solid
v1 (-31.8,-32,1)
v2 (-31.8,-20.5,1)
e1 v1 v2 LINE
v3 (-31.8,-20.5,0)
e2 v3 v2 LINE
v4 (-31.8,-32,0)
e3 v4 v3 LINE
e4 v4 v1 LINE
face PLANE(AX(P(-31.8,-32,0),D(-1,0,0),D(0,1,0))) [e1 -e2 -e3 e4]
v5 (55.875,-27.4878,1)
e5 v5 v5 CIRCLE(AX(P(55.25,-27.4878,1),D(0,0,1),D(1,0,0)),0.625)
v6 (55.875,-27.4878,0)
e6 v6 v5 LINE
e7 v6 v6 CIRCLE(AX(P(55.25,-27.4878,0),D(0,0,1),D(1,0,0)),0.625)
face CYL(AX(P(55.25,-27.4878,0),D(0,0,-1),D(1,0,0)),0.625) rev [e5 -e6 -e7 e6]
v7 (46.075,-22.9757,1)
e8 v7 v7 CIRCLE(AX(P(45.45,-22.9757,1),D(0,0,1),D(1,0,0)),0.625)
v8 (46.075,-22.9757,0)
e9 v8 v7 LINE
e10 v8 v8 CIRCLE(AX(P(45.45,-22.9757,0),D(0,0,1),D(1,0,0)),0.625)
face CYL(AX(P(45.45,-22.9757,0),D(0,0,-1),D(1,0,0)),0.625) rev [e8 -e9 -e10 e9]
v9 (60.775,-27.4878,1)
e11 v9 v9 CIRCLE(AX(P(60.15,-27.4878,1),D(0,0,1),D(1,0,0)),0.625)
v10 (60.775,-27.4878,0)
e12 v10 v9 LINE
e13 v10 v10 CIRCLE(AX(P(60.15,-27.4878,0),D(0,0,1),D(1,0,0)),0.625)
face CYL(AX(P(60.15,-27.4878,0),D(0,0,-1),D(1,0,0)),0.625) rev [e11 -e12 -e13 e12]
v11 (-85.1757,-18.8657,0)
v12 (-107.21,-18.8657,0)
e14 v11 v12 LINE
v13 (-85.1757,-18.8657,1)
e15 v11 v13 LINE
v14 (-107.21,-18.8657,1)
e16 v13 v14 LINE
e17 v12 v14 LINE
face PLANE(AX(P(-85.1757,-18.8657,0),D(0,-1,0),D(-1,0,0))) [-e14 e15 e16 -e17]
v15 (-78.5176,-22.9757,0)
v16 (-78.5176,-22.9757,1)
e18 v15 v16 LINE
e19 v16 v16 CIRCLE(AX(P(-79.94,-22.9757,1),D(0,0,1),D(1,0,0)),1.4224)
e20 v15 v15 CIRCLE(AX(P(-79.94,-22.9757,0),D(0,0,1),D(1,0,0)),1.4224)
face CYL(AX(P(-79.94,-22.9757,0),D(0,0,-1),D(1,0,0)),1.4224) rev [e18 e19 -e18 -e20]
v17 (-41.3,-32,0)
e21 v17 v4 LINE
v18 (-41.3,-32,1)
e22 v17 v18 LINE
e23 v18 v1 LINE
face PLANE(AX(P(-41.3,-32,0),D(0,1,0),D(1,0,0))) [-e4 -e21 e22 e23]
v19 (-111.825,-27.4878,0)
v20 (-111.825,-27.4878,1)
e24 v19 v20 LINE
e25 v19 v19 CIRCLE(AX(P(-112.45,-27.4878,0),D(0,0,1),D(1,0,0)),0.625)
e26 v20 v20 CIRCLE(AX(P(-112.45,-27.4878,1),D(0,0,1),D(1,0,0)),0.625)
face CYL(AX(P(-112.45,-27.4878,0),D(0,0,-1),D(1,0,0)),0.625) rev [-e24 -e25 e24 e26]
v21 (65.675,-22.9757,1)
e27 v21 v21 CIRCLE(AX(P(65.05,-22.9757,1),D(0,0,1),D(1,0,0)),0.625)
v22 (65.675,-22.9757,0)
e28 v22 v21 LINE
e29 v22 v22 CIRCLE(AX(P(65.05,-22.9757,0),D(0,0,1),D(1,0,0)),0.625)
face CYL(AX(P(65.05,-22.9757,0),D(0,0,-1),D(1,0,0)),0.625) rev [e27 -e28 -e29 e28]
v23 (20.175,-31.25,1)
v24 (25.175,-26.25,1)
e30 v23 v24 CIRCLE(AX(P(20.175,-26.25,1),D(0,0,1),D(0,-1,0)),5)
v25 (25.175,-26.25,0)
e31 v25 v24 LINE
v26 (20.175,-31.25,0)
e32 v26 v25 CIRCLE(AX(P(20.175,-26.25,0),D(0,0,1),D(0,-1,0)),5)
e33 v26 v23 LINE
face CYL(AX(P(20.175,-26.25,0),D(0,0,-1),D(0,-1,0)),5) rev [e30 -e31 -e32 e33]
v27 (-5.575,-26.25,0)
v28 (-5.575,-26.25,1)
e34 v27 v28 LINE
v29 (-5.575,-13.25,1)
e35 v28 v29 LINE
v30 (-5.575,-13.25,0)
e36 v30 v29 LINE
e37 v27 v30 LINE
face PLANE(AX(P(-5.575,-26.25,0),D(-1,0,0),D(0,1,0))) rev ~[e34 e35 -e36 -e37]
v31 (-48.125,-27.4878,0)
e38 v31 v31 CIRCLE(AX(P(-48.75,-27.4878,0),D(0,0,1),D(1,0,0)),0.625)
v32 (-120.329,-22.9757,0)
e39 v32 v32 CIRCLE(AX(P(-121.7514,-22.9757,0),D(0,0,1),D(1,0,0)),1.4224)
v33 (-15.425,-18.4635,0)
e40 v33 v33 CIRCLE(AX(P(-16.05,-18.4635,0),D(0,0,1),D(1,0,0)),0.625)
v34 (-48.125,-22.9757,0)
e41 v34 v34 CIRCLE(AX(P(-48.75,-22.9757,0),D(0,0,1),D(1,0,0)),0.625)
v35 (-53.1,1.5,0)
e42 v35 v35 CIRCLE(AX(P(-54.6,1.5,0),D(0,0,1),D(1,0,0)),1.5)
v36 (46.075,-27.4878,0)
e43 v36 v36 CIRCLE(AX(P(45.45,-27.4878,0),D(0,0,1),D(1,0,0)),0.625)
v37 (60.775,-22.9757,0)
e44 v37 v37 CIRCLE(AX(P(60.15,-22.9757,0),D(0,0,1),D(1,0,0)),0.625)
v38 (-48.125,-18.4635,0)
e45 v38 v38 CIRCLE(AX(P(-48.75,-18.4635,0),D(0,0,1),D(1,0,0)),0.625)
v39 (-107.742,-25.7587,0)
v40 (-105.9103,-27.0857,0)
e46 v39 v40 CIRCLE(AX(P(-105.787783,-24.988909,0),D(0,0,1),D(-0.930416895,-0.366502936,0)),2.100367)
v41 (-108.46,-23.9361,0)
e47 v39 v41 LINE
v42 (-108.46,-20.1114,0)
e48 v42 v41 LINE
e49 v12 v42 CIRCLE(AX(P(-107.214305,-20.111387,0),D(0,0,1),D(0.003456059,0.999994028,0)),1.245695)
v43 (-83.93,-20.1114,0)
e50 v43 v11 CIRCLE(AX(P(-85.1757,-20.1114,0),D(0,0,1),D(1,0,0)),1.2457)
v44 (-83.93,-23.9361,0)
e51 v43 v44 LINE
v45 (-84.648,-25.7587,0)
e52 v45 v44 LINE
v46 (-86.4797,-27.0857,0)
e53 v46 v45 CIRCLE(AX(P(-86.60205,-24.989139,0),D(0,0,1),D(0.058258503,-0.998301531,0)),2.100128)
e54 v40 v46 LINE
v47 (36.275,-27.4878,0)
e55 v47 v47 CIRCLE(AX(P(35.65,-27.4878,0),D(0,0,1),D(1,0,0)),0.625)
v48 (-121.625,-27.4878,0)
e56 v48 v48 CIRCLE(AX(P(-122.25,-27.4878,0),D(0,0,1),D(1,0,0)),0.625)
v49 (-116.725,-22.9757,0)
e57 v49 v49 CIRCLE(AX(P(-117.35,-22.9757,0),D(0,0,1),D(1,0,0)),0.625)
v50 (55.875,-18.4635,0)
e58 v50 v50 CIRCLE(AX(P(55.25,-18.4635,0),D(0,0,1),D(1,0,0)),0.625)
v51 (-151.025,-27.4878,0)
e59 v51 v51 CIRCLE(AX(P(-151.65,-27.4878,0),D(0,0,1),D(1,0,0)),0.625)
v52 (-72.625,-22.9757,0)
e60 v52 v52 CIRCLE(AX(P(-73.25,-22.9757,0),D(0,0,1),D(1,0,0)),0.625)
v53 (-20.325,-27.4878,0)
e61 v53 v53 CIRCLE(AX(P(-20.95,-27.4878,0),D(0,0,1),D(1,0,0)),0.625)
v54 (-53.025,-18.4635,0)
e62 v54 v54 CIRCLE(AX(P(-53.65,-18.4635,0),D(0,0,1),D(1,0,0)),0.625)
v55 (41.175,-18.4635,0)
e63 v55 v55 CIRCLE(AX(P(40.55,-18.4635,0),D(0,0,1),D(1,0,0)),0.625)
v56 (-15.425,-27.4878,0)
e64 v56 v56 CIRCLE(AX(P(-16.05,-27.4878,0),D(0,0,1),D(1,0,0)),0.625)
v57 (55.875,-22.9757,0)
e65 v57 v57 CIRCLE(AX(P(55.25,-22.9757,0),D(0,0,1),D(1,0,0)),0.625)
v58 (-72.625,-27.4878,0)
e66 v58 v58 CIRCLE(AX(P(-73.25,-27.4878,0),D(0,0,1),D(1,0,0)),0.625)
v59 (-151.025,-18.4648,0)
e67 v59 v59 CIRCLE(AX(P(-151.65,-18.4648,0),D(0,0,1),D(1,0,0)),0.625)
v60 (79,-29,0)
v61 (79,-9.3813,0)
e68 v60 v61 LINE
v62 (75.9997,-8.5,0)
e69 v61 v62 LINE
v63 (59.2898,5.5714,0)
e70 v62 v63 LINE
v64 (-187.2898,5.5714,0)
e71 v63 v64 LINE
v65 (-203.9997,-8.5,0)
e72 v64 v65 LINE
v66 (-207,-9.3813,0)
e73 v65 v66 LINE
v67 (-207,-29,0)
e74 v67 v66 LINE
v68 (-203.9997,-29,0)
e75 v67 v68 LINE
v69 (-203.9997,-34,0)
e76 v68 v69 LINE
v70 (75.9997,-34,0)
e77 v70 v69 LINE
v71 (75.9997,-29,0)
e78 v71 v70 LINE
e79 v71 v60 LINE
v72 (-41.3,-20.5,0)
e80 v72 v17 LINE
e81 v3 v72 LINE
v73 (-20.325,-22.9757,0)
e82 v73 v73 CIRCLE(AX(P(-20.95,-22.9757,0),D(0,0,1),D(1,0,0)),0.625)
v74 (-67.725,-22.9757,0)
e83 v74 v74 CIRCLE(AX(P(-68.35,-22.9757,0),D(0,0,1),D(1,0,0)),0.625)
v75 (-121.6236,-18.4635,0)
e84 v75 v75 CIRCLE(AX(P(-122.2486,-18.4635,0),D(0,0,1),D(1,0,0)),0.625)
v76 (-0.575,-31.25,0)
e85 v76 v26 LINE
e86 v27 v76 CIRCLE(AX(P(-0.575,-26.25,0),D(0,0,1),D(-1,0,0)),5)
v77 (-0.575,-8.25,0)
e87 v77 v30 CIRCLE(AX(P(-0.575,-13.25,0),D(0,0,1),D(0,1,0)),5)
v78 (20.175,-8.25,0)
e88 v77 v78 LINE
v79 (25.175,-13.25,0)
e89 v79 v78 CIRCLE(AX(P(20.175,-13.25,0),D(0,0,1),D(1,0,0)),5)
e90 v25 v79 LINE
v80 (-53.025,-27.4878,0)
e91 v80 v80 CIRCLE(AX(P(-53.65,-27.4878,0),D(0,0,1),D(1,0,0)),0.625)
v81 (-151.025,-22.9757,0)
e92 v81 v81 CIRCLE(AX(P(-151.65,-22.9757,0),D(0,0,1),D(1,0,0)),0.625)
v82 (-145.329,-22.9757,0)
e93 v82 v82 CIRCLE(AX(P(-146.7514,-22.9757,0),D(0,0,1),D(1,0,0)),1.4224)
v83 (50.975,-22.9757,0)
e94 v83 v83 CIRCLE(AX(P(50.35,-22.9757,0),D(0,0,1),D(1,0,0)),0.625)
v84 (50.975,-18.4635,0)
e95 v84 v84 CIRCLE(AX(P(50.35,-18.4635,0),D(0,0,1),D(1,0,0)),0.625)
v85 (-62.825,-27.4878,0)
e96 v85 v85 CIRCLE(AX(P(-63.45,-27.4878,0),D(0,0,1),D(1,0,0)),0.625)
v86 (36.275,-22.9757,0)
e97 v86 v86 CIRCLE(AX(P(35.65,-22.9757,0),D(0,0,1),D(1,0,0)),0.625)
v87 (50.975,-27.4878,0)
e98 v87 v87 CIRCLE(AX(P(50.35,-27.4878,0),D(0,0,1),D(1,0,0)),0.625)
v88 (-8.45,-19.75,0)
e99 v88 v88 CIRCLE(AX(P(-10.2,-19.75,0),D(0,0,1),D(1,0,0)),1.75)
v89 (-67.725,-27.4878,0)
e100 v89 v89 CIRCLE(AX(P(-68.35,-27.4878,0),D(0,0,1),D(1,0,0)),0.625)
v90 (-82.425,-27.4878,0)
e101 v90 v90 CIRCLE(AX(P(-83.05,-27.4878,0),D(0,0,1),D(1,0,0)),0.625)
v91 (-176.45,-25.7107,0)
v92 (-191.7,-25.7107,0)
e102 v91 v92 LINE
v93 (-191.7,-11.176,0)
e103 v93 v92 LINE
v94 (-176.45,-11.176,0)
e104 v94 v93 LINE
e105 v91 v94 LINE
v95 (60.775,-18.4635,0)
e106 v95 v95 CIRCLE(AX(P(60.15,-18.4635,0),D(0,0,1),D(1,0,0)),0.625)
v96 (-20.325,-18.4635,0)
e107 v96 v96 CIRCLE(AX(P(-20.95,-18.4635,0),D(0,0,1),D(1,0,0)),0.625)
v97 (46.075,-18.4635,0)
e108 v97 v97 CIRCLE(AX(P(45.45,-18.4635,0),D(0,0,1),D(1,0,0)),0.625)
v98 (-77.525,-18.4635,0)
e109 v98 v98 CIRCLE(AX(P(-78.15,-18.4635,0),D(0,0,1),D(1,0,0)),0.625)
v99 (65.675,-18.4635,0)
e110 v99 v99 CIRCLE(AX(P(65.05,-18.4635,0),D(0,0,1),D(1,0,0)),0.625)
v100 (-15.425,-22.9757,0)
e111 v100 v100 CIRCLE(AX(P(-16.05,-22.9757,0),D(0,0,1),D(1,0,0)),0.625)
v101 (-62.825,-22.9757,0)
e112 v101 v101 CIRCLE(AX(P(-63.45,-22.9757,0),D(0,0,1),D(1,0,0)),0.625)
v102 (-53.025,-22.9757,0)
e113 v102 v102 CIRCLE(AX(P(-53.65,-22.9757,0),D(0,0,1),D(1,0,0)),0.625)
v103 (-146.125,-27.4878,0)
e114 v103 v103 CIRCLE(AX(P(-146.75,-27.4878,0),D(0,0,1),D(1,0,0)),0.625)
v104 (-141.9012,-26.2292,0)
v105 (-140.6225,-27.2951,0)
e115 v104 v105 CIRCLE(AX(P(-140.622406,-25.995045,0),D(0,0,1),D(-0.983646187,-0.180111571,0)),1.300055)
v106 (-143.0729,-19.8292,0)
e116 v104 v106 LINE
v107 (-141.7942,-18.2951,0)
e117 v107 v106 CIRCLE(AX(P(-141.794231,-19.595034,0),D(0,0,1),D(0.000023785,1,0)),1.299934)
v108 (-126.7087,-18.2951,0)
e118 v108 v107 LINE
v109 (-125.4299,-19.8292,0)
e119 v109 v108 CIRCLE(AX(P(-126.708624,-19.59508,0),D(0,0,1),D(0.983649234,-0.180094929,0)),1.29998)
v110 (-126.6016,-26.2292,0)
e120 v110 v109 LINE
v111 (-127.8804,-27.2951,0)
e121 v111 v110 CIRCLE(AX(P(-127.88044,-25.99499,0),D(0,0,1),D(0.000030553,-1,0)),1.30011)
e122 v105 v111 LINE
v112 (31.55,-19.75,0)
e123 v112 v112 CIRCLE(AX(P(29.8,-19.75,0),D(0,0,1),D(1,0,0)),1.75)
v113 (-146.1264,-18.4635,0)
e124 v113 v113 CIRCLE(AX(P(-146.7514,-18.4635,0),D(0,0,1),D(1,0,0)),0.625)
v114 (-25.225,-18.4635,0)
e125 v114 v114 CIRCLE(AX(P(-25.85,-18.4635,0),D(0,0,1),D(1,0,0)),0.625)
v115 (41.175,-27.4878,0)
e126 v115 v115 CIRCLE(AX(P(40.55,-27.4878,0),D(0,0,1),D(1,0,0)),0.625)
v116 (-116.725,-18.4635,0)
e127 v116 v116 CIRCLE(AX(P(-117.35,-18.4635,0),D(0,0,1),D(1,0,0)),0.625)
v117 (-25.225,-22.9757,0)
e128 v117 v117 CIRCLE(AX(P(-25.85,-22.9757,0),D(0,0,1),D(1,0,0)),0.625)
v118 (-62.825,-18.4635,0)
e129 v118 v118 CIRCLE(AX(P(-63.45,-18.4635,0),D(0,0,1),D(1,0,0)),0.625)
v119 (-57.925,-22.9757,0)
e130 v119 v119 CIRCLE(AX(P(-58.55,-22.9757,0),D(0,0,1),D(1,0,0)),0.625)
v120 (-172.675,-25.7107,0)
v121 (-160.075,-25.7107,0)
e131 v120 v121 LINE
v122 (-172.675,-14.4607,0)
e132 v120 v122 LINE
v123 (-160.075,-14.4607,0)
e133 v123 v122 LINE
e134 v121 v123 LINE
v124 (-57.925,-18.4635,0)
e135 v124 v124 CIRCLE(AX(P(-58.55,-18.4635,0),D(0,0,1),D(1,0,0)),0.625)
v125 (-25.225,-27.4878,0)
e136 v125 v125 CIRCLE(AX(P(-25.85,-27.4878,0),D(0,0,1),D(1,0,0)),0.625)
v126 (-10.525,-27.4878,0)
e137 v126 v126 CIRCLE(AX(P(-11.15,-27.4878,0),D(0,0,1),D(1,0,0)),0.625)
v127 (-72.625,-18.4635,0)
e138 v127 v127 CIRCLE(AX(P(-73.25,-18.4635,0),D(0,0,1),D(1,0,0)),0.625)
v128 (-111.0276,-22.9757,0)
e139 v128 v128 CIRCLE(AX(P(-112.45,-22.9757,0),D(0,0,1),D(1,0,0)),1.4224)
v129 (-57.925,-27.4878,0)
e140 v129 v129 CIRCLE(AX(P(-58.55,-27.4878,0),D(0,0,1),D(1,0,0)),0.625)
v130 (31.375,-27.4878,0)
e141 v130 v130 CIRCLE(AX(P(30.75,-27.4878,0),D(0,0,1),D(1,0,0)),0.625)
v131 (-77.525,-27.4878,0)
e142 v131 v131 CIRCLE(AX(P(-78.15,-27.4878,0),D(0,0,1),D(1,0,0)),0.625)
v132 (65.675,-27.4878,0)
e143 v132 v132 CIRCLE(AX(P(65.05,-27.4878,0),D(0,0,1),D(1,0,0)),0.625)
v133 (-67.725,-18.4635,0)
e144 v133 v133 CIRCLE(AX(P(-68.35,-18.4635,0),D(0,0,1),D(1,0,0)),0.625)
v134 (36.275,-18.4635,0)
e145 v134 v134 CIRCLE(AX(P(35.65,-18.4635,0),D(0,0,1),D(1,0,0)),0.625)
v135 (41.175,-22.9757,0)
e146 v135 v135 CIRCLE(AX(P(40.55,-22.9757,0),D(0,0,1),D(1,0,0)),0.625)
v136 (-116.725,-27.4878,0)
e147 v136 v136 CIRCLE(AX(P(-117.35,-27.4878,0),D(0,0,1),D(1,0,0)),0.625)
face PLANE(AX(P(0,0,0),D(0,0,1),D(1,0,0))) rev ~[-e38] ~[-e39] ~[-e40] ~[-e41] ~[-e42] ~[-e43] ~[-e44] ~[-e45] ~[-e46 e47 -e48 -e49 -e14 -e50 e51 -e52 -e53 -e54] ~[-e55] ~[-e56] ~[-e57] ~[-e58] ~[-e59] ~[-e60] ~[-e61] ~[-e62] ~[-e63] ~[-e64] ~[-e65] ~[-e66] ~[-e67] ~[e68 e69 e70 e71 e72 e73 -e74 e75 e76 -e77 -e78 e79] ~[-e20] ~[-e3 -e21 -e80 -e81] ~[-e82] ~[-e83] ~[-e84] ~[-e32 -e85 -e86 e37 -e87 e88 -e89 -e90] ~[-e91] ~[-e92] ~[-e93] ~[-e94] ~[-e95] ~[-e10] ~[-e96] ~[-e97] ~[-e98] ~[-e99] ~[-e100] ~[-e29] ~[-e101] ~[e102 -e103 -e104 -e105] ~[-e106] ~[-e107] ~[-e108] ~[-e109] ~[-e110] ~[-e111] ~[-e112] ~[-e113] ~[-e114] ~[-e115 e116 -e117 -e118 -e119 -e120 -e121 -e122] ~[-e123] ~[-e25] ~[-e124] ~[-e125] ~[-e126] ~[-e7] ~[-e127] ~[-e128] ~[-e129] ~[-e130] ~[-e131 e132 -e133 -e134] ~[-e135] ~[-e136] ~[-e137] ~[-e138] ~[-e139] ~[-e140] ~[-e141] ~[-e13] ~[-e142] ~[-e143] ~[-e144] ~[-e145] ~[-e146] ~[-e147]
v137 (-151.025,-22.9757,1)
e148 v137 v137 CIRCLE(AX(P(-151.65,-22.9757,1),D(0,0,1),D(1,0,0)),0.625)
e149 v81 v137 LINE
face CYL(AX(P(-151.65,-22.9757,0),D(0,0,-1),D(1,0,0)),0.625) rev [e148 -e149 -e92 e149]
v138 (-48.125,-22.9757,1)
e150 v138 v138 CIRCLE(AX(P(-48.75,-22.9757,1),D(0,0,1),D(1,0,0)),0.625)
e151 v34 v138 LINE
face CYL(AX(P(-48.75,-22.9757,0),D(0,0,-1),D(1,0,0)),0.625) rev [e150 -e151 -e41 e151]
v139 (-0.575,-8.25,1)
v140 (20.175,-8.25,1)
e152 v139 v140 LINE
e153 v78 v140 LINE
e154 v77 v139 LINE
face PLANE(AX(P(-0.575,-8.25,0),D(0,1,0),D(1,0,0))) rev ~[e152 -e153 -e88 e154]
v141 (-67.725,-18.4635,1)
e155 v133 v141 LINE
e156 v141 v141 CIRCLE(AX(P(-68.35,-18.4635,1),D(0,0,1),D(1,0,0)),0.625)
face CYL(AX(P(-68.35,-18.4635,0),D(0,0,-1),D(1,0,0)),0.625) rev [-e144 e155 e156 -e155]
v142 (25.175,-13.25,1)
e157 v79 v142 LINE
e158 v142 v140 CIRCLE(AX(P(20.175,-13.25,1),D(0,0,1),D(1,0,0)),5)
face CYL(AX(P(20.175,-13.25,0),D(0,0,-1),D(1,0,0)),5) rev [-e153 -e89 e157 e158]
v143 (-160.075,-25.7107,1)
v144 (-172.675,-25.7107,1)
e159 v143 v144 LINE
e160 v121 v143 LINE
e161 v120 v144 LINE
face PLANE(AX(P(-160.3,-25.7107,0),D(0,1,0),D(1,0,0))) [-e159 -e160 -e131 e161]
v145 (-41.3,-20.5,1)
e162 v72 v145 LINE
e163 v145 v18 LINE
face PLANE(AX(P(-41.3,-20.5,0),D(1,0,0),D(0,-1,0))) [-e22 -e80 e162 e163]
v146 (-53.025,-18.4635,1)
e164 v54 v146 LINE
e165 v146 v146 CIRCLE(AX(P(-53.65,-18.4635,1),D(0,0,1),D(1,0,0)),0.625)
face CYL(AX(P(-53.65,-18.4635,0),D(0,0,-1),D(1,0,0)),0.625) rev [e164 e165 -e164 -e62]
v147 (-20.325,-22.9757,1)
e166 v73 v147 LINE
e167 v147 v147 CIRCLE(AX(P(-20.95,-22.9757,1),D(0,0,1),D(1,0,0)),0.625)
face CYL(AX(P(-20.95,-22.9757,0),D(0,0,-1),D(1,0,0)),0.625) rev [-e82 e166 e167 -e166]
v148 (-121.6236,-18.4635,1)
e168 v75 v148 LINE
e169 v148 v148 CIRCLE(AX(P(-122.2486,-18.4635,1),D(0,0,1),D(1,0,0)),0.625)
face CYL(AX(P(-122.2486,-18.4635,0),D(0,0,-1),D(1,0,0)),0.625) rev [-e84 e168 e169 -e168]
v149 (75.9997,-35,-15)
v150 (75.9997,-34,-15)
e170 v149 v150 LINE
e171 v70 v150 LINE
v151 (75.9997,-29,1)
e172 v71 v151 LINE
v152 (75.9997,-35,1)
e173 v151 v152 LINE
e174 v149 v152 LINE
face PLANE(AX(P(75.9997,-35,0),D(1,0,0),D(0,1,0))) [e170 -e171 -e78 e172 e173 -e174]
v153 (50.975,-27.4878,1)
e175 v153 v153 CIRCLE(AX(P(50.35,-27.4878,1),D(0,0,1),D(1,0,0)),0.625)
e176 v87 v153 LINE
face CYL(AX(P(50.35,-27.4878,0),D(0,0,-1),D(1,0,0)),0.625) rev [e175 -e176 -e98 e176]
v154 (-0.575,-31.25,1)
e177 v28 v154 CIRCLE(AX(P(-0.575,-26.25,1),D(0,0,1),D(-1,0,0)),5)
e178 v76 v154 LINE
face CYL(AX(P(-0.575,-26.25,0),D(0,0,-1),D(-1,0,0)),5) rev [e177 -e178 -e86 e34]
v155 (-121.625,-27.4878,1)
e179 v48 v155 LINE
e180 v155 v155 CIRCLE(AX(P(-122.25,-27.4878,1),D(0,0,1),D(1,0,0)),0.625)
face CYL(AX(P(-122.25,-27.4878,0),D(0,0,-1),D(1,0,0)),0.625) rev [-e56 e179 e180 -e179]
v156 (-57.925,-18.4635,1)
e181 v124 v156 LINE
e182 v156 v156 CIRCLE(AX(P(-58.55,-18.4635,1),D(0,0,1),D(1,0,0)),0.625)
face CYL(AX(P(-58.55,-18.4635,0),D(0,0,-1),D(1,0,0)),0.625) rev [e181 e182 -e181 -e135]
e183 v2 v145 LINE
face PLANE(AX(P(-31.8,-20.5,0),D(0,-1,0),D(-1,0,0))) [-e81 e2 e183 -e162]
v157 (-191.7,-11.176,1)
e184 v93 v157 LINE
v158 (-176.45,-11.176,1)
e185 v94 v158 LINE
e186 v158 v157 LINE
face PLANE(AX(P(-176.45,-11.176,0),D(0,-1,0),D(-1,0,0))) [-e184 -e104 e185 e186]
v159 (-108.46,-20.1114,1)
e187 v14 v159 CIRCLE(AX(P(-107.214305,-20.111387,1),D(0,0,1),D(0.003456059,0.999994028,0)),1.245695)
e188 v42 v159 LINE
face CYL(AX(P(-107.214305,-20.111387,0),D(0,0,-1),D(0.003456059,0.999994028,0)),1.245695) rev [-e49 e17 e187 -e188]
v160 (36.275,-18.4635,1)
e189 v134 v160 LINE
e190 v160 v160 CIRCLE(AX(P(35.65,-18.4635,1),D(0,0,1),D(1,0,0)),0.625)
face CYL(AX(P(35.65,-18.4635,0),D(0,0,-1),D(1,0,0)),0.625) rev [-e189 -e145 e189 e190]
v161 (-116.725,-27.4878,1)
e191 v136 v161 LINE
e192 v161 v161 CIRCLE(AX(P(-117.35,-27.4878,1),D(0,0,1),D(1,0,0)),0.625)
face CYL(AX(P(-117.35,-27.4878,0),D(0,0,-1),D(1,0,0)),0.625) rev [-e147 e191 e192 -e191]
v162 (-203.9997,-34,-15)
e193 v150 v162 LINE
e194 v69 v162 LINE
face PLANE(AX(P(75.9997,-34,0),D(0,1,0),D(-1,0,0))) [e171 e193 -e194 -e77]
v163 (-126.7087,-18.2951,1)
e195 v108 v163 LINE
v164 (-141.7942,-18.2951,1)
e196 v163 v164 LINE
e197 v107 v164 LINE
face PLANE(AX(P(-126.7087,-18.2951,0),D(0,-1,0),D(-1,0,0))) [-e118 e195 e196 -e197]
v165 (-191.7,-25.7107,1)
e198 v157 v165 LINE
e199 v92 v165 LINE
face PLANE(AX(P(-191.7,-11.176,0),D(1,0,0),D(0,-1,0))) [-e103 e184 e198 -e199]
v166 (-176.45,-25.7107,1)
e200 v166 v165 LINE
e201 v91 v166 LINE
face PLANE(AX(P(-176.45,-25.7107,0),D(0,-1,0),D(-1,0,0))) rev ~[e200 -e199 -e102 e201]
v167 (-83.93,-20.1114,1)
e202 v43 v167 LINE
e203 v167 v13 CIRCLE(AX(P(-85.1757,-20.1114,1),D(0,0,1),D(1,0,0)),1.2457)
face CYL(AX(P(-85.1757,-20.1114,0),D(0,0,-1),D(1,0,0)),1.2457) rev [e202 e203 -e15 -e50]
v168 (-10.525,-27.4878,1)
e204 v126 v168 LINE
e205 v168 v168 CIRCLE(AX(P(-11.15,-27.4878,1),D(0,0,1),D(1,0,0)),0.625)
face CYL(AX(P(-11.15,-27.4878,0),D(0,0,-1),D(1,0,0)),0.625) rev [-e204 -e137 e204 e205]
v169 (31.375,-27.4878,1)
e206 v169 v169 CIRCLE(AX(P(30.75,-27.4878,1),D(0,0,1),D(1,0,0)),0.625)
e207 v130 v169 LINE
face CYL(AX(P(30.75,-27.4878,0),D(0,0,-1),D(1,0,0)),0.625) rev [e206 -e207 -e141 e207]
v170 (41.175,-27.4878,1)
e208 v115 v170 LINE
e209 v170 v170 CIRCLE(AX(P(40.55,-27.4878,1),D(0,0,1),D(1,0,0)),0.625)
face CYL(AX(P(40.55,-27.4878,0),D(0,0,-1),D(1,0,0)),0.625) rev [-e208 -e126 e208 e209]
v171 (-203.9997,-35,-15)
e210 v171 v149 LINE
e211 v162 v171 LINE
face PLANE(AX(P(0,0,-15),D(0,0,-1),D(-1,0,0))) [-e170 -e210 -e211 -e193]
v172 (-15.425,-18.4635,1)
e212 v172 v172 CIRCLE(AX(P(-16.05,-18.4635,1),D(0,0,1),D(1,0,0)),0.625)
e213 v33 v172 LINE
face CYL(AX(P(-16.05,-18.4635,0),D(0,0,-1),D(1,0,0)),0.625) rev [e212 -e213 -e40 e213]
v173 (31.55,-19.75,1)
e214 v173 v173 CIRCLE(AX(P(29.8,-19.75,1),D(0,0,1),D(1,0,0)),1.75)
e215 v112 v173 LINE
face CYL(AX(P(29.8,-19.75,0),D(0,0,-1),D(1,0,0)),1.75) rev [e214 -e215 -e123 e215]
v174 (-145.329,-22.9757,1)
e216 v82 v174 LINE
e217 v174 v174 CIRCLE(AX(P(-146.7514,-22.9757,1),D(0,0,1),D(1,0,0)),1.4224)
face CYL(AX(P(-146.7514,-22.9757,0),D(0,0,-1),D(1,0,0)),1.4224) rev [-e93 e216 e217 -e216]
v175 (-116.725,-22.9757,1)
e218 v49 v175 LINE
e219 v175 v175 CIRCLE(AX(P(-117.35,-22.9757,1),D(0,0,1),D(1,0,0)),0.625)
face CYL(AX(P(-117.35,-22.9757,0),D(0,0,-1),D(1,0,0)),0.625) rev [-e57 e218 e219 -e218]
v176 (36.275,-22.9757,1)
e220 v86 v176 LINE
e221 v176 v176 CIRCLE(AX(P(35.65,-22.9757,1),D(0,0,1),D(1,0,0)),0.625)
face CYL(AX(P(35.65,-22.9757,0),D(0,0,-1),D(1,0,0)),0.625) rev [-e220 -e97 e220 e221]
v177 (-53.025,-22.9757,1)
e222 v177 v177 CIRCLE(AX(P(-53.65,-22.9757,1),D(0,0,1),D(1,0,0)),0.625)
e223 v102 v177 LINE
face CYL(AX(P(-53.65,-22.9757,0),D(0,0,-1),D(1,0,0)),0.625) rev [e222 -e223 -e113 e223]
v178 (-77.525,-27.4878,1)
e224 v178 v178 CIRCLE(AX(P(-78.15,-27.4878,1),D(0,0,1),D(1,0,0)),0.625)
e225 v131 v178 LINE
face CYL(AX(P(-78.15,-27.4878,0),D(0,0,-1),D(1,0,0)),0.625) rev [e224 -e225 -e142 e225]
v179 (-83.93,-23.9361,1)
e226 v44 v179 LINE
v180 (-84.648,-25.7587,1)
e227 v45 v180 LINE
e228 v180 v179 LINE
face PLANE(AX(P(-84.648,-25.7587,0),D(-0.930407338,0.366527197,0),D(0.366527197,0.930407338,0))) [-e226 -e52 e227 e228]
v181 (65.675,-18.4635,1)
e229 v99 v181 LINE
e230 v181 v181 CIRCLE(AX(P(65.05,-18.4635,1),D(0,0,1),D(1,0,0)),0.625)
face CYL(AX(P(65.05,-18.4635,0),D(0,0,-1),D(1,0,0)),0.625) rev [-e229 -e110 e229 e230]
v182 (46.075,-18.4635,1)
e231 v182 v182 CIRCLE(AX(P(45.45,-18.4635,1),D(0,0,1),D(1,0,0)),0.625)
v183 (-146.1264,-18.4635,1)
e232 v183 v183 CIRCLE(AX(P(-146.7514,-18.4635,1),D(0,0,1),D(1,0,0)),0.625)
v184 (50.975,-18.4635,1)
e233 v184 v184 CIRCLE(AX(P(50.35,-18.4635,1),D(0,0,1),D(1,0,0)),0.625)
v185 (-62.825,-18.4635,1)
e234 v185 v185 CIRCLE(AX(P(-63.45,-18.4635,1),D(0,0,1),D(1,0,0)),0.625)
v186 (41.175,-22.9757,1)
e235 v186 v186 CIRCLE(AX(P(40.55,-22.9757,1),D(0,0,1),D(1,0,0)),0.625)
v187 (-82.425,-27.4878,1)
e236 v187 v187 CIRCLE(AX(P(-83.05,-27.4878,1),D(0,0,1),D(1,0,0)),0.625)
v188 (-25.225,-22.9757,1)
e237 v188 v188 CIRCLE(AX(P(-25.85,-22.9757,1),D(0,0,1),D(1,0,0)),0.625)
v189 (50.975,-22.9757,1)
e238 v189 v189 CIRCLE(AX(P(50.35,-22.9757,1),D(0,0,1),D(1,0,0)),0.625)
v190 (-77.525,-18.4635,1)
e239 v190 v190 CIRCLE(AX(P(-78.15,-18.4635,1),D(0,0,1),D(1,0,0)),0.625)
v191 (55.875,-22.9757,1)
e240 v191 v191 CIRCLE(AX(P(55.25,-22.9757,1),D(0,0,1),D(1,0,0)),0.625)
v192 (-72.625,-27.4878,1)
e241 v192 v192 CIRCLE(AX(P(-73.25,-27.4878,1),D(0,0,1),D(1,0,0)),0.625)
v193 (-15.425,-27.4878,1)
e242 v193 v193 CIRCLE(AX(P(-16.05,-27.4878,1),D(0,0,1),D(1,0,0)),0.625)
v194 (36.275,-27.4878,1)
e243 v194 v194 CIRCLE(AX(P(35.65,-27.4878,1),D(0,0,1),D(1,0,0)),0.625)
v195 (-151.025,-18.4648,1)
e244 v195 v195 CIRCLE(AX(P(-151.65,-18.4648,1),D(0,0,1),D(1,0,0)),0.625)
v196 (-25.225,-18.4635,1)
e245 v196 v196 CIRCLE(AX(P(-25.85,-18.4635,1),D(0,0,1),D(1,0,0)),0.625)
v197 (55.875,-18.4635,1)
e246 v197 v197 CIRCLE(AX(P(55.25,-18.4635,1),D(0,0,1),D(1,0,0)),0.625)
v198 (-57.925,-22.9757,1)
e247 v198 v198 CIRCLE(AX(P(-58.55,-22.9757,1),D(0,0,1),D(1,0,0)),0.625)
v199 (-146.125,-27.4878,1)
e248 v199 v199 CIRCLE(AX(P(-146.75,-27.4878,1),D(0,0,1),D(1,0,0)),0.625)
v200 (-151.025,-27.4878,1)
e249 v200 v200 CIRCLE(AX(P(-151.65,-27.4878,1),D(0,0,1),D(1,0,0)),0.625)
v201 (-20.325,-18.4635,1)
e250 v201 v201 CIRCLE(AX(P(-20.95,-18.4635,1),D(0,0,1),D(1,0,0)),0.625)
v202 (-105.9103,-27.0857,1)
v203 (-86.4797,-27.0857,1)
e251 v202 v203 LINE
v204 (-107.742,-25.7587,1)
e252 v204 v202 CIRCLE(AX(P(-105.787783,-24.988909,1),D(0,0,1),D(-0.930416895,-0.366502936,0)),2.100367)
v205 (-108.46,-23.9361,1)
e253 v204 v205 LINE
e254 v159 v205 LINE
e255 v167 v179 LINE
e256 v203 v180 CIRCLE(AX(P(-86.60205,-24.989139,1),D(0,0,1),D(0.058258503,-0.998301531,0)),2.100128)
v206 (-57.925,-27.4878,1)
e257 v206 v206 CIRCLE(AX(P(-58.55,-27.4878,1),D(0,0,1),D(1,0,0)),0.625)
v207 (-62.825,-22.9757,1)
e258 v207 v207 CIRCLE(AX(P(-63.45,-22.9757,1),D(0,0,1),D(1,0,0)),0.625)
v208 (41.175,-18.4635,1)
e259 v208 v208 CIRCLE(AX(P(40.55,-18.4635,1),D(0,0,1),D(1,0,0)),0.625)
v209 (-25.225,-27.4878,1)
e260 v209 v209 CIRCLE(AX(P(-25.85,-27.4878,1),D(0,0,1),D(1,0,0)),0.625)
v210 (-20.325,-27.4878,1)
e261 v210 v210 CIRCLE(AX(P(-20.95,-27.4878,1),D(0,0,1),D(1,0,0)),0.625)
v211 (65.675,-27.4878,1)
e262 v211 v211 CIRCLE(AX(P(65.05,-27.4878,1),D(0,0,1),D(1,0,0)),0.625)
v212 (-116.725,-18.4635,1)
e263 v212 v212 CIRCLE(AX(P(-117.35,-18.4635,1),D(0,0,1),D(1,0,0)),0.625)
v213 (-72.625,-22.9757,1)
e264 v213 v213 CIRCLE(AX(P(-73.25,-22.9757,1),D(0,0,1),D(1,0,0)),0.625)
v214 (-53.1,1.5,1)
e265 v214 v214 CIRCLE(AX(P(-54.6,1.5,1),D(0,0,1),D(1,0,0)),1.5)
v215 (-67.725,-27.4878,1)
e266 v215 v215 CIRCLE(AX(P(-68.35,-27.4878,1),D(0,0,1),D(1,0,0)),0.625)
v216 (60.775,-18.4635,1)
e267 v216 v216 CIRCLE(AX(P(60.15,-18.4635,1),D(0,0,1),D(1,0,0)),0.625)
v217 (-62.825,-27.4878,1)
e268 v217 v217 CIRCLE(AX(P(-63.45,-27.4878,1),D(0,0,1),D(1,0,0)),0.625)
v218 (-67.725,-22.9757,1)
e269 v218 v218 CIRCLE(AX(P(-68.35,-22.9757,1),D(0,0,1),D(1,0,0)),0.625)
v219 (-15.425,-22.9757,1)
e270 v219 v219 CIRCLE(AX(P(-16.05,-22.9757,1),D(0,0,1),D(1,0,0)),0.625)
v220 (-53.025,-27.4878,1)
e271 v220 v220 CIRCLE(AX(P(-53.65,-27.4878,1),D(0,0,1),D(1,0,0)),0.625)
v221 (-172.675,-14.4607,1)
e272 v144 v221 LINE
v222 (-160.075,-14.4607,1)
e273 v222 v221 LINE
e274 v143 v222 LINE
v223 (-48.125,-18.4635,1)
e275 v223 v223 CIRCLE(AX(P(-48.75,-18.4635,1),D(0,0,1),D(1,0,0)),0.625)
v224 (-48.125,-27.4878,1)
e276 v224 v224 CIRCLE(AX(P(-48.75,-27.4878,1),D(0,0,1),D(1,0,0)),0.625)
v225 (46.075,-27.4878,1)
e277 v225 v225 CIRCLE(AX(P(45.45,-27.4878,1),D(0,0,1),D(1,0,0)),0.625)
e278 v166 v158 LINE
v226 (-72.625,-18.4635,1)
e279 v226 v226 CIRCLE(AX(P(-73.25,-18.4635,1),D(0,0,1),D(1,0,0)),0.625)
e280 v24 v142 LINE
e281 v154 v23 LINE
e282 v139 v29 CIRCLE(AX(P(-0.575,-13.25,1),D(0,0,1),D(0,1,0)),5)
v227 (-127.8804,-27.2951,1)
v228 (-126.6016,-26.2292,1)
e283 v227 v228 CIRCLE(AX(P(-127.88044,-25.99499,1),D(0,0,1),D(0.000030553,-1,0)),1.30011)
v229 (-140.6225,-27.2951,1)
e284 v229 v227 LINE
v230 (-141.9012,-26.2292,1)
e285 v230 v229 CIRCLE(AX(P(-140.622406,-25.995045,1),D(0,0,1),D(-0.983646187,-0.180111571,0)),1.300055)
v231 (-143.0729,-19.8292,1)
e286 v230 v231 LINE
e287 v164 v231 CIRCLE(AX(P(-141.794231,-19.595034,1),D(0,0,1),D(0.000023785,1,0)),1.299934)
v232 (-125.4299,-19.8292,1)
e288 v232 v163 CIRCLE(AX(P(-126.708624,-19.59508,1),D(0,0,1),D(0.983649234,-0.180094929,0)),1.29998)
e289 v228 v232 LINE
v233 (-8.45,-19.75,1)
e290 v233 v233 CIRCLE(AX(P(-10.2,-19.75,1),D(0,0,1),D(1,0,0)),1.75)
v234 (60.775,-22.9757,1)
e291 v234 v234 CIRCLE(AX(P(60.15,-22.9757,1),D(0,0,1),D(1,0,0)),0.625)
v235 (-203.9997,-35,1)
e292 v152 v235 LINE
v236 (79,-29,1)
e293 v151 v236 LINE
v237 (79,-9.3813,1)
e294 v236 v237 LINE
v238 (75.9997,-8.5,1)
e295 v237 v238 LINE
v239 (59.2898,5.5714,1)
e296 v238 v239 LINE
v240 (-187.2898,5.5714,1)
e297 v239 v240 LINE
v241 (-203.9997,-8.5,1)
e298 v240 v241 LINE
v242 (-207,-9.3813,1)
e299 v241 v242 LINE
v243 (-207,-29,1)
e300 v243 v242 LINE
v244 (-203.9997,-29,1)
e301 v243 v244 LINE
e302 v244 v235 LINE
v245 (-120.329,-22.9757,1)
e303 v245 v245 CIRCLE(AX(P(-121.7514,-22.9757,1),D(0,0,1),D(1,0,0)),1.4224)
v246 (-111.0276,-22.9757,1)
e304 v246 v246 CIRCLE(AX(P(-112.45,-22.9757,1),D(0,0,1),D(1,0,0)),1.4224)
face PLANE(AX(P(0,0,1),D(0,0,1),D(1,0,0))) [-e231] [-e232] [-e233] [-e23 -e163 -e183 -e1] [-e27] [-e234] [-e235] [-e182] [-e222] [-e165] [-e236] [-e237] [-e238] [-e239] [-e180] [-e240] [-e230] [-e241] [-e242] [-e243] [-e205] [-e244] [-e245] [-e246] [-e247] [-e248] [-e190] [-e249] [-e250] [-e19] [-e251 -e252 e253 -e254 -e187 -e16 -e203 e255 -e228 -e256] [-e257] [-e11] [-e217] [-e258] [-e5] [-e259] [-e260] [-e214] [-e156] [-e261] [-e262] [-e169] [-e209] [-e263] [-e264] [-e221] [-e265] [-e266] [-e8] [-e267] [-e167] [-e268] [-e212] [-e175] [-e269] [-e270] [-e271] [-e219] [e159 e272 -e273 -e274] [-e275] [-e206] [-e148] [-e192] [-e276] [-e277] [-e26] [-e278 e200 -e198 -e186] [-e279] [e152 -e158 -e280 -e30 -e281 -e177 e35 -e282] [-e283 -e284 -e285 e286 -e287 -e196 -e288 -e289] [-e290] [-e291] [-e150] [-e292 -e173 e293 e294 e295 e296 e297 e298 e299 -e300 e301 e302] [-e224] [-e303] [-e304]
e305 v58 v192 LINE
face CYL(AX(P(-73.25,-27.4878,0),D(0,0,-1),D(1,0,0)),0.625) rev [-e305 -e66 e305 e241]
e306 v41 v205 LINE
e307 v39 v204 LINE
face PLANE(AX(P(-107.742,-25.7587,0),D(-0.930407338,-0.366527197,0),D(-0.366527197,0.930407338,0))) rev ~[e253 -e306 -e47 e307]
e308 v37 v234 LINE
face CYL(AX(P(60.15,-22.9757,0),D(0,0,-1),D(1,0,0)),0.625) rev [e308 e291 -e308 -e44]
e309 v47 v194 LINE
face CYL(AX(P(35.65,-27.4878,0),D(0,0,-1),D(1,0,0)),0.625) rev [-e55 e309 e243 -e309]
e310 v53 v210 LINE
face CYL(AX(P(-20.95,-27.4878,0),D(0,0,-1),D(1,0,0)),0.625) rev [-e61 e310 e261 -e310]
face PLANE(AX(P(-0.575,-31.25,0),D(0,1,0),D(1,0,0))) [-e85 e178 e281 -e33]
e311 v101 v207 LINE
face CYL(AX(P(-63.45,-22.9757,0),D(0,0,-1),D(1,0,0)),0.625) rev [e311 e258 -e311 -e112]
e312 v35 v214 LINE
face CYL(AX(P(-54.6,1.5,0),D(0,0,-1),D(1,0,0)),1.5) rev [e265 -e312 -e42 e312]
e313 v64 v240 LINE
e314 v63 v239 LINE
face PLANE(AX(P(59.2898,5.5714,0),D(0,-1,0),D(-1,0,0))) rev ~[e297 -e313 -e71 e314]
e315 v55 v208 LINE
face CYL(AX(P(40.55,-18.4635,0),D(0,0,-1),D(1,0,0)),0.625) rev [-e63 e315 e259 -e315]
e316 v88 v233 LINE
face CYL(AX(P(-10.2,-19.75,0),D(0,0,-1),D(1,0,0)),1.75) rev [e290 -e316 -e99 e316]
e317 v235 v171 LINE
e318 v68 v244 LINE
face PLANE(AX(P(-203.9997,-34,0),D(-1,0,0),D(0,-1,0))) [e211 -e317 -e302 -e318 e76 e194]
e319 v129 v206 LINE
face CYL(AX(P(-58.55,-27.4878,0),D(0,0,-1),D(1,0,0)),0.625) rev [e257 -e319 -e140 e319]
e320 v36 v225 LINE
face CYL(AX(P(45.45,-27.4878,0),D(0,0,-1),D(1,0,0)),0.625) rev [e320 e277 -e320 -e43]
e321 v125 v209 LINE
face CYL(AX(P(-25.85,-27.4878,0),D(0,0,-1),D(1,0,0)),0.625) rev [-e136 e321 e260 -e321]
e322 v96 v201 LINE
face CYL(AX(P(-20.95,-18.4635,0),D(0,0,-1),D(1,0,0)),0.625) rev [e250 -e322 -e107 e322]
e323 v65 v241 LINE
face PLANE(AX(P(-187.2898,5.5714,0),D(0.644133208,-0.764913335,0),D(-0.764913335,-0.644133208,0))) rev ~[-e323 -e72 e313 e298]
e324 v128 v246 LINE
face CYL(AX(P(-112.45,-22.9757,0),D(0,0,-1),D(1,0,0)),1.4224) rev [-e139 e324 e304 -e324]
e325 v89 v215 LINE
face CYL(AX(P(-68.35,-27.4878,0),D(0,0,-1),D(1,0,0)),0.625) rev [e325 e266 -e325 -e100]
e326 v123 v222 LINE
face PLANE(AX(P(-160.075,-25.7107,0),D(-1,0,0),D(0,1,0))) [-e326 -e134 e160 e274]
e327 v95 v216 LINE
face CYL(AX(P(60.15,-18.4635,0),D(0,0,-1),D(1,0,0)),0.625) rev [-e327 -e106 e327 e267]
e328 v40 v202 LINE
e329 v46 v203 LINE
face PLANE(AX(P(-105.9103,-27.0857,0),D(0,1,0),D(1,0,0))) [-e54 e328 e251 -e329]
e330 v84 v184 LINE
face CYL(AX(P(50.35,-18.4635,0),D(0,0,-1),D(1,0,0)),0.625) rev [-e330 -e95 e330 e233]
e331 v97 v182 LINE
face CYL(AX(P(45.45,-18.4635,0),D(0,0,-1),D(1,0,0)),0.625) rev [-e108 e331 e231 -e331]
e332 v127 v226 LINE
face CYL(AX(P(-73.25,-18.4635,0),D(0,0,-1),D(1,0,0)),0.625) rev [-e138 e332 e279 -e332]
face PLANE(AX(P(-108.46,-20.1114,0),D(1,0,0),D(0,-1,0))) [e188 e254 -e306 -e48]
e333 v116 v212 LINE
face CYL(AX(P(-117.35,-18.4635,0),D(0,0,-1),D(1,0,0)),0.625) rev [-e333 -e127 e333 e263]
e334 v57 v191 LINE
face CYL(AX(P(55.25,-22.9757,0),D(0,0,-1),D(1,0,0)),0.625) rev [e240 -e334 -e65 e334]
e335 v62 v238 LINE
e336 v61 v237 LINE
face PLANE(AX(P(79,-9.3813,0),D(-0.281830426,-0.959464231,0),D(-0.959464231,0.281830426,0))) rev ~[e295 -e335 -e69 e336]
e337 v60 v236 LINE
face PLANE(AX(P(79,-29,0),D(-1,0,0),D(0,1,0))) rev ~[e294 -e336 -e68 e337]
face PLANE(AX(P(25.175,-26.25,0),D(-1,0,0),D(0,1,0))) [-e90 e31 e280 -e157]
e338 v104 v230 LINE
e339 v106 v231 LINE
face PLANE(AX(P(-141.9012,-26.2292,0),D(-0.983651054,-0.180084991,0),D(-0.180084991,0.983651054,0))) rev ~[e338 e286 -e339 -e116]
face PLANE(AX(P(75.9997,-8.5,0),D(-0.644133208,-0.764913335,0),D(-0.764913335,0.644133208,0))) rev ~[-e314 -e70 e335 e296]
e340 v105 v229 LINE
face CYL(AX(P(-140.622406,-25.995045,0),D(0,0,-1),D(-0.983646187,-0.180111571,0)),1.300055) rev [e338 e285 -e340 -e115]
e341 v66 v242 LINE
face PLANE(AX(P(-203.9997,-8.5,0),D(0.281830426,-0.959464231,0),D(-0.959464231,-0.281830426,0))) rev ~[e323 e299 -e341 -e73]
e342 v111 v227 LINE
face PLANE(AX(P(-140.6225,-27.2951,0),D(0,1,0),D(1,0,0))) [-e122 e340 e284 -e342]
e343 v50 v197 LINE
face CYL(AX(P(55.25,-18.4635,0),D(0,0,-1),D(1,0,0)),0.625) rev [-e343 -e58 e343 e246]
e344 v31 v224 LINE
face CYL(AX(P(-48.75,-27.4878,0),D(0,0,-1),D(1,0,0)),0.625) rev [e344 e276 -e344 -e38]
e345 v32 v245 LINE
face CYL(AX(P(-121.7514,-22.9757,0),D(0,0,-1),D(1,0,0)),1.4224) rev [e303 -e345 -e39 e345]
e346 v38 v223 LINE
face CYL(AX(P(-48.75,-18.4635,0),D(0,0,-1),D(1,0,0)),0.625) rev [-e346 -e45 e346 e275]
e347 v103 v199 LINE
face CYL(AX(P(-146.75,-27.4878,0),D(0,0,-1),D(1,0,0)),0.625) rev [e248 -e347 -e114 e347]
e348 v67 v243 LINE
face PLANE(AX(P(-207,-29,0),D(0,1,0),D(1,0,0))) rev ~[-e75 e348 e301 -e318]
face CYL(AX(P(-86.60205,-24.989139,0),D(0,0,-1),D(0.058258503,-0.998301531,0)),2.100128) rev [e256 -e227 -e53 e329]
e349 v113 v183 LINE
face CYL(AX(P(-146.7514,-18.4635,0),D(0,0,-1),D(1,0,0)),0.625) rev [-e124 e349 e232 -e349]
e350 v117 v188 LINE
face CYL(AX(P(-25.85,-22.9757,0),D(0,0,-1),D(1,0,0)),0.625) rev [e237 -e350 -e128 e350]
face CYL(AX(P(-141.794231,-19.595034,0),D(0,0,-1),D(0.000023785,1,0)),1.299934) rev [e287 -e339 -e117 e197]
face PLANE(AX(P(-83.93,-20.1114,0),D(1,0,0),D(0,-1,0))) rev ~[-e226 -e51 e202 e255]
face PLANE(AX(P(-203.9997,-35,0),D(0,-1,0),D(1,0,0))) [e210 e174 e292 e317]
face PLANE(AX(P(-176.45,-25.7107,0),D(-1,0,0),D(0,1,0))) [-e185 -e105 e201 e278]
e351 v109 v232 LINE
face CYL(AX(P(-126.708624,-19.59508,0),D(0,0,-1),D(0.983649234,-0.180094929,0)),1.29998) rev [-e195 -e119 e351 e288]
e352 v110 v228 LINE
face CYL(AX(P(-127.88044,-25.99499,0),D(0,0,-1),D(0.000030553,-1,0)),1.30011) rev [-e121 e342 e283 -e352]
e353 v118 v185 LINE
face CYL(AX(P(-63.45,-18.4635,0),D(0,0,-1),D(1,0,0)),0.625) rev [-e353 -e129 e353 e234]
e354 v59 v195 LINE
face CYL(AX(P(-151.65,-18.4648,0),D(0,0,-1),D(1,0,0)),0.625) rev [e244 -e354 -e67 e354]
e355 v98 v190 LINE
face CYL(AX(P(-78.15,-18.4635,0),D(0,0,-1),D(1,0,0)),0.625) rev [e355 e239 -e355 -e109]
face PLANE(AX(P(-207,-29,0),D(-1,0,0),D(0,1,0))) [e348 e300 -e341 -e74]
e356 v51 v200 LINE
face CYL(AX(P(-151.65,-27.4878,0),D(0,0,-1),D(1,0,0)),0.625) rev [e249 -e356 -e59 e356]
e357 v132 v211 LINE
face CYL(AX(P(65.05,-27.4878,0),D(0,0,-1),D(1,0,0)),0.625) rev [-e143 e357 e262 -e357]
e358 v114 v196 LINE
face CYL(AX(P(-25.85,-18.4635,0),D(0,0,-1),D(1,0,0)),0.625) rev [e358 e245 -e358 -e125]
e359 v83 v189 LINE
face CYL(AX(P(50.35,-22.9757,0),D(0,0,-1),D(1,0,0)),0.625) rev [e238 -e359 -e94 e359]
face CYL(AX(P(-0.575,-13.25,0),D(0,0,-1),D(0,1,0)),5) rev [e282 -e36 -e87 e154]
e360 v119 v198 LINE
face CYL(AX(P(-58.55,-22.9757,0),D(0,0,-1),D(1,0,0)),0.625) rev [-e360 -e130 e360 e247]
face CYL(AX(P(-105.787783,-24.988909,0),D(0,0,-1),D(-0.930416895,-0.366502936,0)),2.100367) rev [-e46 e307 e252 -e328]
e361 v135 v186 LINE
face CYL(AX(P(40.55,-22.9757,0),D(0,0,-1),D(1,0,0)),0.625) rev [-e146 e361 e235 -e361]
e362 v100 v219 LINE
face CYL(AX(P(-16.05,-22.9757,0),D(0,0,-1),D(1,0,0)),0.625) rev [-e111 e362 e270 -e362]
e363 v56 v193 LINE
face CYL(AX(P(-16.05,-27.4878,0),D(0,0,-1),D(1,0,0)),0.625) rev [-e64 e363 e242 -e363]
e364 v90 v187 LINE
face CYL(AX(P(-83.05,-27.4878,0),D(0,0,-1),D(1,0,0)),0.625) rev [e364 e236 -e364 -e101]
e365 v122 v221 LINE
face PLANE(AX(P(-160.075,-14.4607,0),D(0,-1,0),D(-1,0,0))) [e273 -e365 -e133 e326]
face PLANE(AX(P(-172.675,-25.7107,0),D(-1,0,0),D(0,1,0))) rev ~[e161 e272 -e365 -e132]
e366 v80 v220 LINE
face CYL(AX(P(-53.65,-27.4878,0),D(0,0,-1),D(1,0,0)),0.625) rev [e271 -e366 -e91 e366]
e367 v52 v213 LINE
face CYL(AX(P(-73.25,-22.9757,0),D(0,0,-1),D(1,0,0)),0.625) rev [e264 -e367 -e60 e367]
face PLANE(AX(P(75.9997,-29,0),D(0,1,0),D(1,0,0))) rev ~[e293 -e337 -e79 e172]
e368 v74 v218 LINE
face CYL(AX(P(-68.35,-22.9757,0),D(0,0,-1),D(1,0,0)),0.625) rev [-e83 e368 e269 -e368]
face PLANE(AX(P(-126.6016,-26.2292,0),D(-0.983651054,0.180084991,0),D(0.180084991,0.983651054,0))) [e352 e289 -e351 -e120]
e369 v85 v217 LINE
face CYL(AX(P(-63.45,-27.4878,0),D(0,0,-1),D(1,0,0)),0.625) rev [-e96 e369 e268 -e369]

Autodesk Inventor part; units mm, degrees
ref_plane "YZ Plane" through (0, 0, 0) normal (1, 0, 0) x (0, 1, 0)
ref_plane "Płaszczyzna konstrukcyjna1" through (0, 0, 0) normal (0, 0, 1) x (1, 0, 0)
ref_plane "Płaszczyzna konstrukcyjna11" through (0, 0, 0) normal (0, 0, -1) x (-1, 0, 0)
sketch "Szkic3" plane through (0, 0, 0) normal (0, 0, -1) x (-1, 0, 0)
  line L0 (203.9997, -35) -> (-75.9997, -35) projected
  line L1 (203.9997, -35) -> (-75.9997, -35)
  line L2 (-75.9997, -35) -> (-75.9997, -34)
  line L3 (-75.9997, -34) -> (203.9997, -34)
  line L4 (203.9997, -34) -> (203.9997, -35)
  dimension "d23" = 1
extrude "Wyciągnięcie proste3" add sketch "Szkic3" along normal blind 15
sketch "Szkic1" plane through (0, 0, 0) normal (0, 0, 1) x (1, 0, 0)
  line L0 (75.9997, -29) -> (79, -29)
  line L1 (79, -29) -> (79, -9.3813)
  line L2 (79, -9.3813) -> (75.9997, -8.5)
  line L3 (75.9997, -8.5) -> (59.2898, 5.5714)
  line L4 (59.2898, 5.5714) -> (-187.2898, 5.5714)
  line L5 (-187.2898, 5.5714) -> (-203.9997, -8.5)
  line L6 (-203.9997, -8.5) -> (-207, -9.3813)
  line L7 (-207, -29) -> (-207, -9.3813)
  line L8 (-207, -29) -> (-203.9997, -29)
  line L9 (-5.575, -26.25) -> (-5.575, -13.25)
  line L10 (-176.45, -11.176) -> (-191.7, -11.176)
  line L11 (-191.7, -11.176) -> (-191.7, -25.7107)
  line L12 (-41.3, -32) -> (-31.8, -32)
  line L13 (-31.8, -32) -> (-31.8, -20.5)
  line L14 (-31.8, -20.5) -> (-41.3, -20.5)
  line L15 (-41.3, -20.5) -> (-41.3, -32)
  circle A0 centre (-54.6, 1.5) radius 1.5
  line L16 (-0.575, -31.25) -> (20.175, -31.25)
  circle A1 centre (65.05, -22.9757) radius 0.625
  circle A2 centre (65.05, -18.4635) radius 0.625
  circle A3 centre (65.05, -27.4878) radius 0.625
  circle A4 centre (60.15, -22.9757) radius 0.625
  circle A5 centre (60.15, -18.4635) radius 0.625
  circle A6 centre (60.15, -27.4878) radius 0.625
  circle A7 centre (55.25, -22.9757) radius 0.625
  circle A8 centre (55.25, -18.4635) radius 0.625
  circle A9 centre (55.25, -27.4878) radius 0.625
  circle A10 centre (50.35, -22.9757) radius 0.625
  circle A11 centre (50.35, -18.4635) radius 0.625
  circle A12 centre (50.35, -27.4878) radius 0.625
  circle A13 centre (45.45, -22.9757) radius 0.625
  circle A14 centre (45.45, -18.4635) radius 0.625
  circle A15 centre (45.45, -27.4878) radius 0.625
  circle A16 centre (40.55, -22.9757) radius 0.625
  circle A17 centre (40.55, -18.4635) radius 0.625
  circle A18 centre (40.55, -27.4878) radius 0.625
  circle A19 centre (35.65, -22.9757) radius 0.625
  circle A20 centre (35.65, -18.4635) radius 0.625
  circle A21 centre (35.65, -27.4878) radius 0.625
  circle A22 centre (30.75, -27.4878) radius 0.625
  circle A23 centre (-11.15, -27.4878) radius 0.625
  circle A24 centre (-16.05, -22.9757) radius 0.625
  circle A25 centre (-16.05, -18.4635) radius 0.625
  circle A26 centre (-16.05, -27.4878) radius 0.625
  circle A27 centre (-20.95, -22.9757) radius 0.625
  circle A28 centre (-20.95, -18.4635) radius 0.625
  circle A29 centre (-20.95, -27.4878) radius 0.625
  circle A30 centre (-25.85, -22.9757) radius 0.625
  circle A31 centre (-25.85, -18.4635) radius 0.625
  circle A32 centre (-25.85, -27.4878) radius 0.625
  circle A33 centre (-48.75, -22.9757) radius 0.625
  circle A34 centre (-48.75, -18.4635) radius 0.625
  circle A35 centre (-48.75, -27.4878) radius 0.625
  circle A36 centre (-53.65, -22.9757) radius 0.625
  circle A37 centre (-53.65, -18.4635) radius 0.625
  circle A38 centre (-53.65, -27.4878) radius 0.625
  circle A39 centre (-58.55, -22.9757) radius 0.625
  circle A40 centre (-58.55, -18.4635) radius 0.625
  circle A41 centre (-58.55, -27.4878) radius 0.625
  circle A42 centre (-63.45, -22.9757) radius 0.625
  circle A43 centre (-63.45, -18.4635) radius 0.625
  circle A44 centre (-63.45, -27.4878) radius 0.625
  circle A45 centre (-68.35, -22.9757) radius 0.625
  circle A46 centre (-68.35, -18.4635) radius 0.625
  circle A47 centre (-68.35, -27.4878) radius 0.625
  line L17 (-203.9997, -29) -> (-203.9997, -35)
  line L18 (75.9997, -29) -> (75.9997, -35)
  line L19 (75.9997, -35) -> (-203.9997, -35)
  line L20 (-107.21, -19.1157) -> (-107.21, -18.8657)
  line L21 (-108.46, -20.1114) -> (-108.46, -23.9361)
  line L22 (-107.742, -25.7587) -> (-108.46, -23.9361)
  arc A48 (-107.21, -18.8657) -> (-108.46, -20.1114) centre (-107.2143, -20.1114) ccw
  arc A49 (-107.742, -25.7587) -> (-105.9103, -27.0857) centre (-105.7879, -24.989) ccw
  line L23 (-85.18, -19.1157) -> (-85.1757, -18.8657)
  line L24 (-83.93, -20.1114) -> (-83.93, -23.9361)
  line L25 (-84.648, -25.7587) -> (-83.93, -23.9361)
  arc A50 (-83.93, -20.1114) -> (-85.1757, -18.8657) centre (-85.1757, -20.1114) ccw
  arc A51 (-86.4797, -27.0857) -> (-84.648, -25.7587) centre (-86.6021, -24.989) ccw
  line L26 (-85.1757, -18.8657) -> (-107.21, -18.8657)
  line L27 (-105.9103, -27.0857) -> (-86.4797, -27.0857)
  circle A52 centre (-79.94, -22.9757) radius 1.4224
  circle A53 centre (-112.45, -22.9757) radius 1.4224
  circle A54 centre (-73.25, -27.4878) radius 0.625
  circle A55 centre (-78.15, -27.4878) radius 0.625
  circle A56 centre (-83.05, -27.4878) radius 0.625
  circle A57 centre (-112.45, -27.4878) radius 0.625
  circle A58 centre (-117.35, -27.4878) radius 0.625
  circle A59 centre (-122.25, -27.4878) radius 0.625
  circle A60 centre (-146.75, -27.4878) radius 0.625
  circle A61 centre (-151.65, -27.4878) radius 0.625
  line L28 (-160.3, -25.7107) -> (-172.45, -25.7107)
  line L29 (-176.45, -25.7107) -> (-191.7, -25.7107)
  line L30 (-176.45, -25.7107) -> (-176.45, -11.176)
  circle A62 centre (-73.25, -18.4635) radius 0.625
  circle A63 centre (-73.25, -22.9757) radius 0.625
  circle A64 centre (-117.35, -22.9757) radius 0.625
  circle A65 centre (-117.35, -18.4635) radius 0.625
  circle A66 centre (-151.65, -22.9757) radius 0.625
  circle A67 centre (-78.15, -18.4635) radius 0.625
  circle A68 centre (-122.2486, -18.4635) radius 0.625
  circle A69 centre (-121.7514, -22.9757) radius 1.4224
  circle A70 centre (-146.7514, -18.4635) radius 0.625
  circle A71 centre (-146.7514, -22.9757) radius 1.4224
  circle A72 centre (-151.65, -18.4648) radius 0.625
  line L31 (25.175, -26.25) -> (25.175, -13.25)
  line L32 (-0.575, -8.25) -> (20.175, -8.25)
  arc A73 (25.175, -13.25) -> (20.175, -8.25) centre (20.175, -13.25) ccw
  arc A74 (-0.575, -8.25) -> (-5.575, -13.25) centre (-0.575, -13.25) ccw
  arc A75 (-5.575, -26.25) -> (-0.575, -31.25) centre (-0.575, -26.25) ccw
  arc A76 (20.175, -31.25) -> (25.175, -26.25) centre (20.175, -26.25) ccw
  line L33 (-140.6225, -27.2951) -> (-127.8804, -27.2951)
  line L34 (-126.7087, -18.2951) -> (-141.7942, -18.2951)
  line L35 (-126.6016, -26.2292) -> (-125.4299, -19.8292)
  line L36 (-141.9012, -26.2292) -> (-143.0729, -19.8292)
  arc A77 (-125.4299, -19.8292) -> (-126.7087, -18.2951) centre (-126.7087, -19.5951) ccw
  arc A78 (-127.8804, -27.2951) -> (-126.6016, -26.2292) centre (-127.8804, -25.9951) ccw
  arc A79 (-141.7942, -18.2951) -> (-143.0729, -19.8292) centre (-141.7942, -19.5951) ccw
  arc A80 (-141.9012, -26.2292) -> (-140.6225, -27.2951) centre (-140.6225, -25.9951) ccw
  circle A81 centre (29.8, -19.75) radius 1.75
  circle A82 centre (-10.2, -19.75) radius 1.75
  line L37 (-160.3, -25.7107) -> (-160.075, -25.7107)
  line L38 (-160.075, -25.7107) -> (-160.075, -14.4607)
  line L39 (-172.45, -25.7107) -> (-172.675, -25.7107)
  line L40 (-172.675, -25.7107) -> (-172.675, -14.4607)
  line L41 (-160.075, -14.4607) -> (-172.675, -14.4607)
  point P0 (0, 0)
  point P1 (-5.575, -31.25)
  point P2 (25.175, -31.25)
  dimension "d21" = 6
  dimension "d22" = 6
  dimension "d97" = 4.625
  dimension "d98" = 11.5
  dimension "d103" = 0.225
  dimension "d104" = 11.25
extrude "Wyciągnięcie proste18" add sketch "Szkic1" along normal blind 1
properties part number "BLACHA OBUDOWY TYLNEJ MONITORA"
